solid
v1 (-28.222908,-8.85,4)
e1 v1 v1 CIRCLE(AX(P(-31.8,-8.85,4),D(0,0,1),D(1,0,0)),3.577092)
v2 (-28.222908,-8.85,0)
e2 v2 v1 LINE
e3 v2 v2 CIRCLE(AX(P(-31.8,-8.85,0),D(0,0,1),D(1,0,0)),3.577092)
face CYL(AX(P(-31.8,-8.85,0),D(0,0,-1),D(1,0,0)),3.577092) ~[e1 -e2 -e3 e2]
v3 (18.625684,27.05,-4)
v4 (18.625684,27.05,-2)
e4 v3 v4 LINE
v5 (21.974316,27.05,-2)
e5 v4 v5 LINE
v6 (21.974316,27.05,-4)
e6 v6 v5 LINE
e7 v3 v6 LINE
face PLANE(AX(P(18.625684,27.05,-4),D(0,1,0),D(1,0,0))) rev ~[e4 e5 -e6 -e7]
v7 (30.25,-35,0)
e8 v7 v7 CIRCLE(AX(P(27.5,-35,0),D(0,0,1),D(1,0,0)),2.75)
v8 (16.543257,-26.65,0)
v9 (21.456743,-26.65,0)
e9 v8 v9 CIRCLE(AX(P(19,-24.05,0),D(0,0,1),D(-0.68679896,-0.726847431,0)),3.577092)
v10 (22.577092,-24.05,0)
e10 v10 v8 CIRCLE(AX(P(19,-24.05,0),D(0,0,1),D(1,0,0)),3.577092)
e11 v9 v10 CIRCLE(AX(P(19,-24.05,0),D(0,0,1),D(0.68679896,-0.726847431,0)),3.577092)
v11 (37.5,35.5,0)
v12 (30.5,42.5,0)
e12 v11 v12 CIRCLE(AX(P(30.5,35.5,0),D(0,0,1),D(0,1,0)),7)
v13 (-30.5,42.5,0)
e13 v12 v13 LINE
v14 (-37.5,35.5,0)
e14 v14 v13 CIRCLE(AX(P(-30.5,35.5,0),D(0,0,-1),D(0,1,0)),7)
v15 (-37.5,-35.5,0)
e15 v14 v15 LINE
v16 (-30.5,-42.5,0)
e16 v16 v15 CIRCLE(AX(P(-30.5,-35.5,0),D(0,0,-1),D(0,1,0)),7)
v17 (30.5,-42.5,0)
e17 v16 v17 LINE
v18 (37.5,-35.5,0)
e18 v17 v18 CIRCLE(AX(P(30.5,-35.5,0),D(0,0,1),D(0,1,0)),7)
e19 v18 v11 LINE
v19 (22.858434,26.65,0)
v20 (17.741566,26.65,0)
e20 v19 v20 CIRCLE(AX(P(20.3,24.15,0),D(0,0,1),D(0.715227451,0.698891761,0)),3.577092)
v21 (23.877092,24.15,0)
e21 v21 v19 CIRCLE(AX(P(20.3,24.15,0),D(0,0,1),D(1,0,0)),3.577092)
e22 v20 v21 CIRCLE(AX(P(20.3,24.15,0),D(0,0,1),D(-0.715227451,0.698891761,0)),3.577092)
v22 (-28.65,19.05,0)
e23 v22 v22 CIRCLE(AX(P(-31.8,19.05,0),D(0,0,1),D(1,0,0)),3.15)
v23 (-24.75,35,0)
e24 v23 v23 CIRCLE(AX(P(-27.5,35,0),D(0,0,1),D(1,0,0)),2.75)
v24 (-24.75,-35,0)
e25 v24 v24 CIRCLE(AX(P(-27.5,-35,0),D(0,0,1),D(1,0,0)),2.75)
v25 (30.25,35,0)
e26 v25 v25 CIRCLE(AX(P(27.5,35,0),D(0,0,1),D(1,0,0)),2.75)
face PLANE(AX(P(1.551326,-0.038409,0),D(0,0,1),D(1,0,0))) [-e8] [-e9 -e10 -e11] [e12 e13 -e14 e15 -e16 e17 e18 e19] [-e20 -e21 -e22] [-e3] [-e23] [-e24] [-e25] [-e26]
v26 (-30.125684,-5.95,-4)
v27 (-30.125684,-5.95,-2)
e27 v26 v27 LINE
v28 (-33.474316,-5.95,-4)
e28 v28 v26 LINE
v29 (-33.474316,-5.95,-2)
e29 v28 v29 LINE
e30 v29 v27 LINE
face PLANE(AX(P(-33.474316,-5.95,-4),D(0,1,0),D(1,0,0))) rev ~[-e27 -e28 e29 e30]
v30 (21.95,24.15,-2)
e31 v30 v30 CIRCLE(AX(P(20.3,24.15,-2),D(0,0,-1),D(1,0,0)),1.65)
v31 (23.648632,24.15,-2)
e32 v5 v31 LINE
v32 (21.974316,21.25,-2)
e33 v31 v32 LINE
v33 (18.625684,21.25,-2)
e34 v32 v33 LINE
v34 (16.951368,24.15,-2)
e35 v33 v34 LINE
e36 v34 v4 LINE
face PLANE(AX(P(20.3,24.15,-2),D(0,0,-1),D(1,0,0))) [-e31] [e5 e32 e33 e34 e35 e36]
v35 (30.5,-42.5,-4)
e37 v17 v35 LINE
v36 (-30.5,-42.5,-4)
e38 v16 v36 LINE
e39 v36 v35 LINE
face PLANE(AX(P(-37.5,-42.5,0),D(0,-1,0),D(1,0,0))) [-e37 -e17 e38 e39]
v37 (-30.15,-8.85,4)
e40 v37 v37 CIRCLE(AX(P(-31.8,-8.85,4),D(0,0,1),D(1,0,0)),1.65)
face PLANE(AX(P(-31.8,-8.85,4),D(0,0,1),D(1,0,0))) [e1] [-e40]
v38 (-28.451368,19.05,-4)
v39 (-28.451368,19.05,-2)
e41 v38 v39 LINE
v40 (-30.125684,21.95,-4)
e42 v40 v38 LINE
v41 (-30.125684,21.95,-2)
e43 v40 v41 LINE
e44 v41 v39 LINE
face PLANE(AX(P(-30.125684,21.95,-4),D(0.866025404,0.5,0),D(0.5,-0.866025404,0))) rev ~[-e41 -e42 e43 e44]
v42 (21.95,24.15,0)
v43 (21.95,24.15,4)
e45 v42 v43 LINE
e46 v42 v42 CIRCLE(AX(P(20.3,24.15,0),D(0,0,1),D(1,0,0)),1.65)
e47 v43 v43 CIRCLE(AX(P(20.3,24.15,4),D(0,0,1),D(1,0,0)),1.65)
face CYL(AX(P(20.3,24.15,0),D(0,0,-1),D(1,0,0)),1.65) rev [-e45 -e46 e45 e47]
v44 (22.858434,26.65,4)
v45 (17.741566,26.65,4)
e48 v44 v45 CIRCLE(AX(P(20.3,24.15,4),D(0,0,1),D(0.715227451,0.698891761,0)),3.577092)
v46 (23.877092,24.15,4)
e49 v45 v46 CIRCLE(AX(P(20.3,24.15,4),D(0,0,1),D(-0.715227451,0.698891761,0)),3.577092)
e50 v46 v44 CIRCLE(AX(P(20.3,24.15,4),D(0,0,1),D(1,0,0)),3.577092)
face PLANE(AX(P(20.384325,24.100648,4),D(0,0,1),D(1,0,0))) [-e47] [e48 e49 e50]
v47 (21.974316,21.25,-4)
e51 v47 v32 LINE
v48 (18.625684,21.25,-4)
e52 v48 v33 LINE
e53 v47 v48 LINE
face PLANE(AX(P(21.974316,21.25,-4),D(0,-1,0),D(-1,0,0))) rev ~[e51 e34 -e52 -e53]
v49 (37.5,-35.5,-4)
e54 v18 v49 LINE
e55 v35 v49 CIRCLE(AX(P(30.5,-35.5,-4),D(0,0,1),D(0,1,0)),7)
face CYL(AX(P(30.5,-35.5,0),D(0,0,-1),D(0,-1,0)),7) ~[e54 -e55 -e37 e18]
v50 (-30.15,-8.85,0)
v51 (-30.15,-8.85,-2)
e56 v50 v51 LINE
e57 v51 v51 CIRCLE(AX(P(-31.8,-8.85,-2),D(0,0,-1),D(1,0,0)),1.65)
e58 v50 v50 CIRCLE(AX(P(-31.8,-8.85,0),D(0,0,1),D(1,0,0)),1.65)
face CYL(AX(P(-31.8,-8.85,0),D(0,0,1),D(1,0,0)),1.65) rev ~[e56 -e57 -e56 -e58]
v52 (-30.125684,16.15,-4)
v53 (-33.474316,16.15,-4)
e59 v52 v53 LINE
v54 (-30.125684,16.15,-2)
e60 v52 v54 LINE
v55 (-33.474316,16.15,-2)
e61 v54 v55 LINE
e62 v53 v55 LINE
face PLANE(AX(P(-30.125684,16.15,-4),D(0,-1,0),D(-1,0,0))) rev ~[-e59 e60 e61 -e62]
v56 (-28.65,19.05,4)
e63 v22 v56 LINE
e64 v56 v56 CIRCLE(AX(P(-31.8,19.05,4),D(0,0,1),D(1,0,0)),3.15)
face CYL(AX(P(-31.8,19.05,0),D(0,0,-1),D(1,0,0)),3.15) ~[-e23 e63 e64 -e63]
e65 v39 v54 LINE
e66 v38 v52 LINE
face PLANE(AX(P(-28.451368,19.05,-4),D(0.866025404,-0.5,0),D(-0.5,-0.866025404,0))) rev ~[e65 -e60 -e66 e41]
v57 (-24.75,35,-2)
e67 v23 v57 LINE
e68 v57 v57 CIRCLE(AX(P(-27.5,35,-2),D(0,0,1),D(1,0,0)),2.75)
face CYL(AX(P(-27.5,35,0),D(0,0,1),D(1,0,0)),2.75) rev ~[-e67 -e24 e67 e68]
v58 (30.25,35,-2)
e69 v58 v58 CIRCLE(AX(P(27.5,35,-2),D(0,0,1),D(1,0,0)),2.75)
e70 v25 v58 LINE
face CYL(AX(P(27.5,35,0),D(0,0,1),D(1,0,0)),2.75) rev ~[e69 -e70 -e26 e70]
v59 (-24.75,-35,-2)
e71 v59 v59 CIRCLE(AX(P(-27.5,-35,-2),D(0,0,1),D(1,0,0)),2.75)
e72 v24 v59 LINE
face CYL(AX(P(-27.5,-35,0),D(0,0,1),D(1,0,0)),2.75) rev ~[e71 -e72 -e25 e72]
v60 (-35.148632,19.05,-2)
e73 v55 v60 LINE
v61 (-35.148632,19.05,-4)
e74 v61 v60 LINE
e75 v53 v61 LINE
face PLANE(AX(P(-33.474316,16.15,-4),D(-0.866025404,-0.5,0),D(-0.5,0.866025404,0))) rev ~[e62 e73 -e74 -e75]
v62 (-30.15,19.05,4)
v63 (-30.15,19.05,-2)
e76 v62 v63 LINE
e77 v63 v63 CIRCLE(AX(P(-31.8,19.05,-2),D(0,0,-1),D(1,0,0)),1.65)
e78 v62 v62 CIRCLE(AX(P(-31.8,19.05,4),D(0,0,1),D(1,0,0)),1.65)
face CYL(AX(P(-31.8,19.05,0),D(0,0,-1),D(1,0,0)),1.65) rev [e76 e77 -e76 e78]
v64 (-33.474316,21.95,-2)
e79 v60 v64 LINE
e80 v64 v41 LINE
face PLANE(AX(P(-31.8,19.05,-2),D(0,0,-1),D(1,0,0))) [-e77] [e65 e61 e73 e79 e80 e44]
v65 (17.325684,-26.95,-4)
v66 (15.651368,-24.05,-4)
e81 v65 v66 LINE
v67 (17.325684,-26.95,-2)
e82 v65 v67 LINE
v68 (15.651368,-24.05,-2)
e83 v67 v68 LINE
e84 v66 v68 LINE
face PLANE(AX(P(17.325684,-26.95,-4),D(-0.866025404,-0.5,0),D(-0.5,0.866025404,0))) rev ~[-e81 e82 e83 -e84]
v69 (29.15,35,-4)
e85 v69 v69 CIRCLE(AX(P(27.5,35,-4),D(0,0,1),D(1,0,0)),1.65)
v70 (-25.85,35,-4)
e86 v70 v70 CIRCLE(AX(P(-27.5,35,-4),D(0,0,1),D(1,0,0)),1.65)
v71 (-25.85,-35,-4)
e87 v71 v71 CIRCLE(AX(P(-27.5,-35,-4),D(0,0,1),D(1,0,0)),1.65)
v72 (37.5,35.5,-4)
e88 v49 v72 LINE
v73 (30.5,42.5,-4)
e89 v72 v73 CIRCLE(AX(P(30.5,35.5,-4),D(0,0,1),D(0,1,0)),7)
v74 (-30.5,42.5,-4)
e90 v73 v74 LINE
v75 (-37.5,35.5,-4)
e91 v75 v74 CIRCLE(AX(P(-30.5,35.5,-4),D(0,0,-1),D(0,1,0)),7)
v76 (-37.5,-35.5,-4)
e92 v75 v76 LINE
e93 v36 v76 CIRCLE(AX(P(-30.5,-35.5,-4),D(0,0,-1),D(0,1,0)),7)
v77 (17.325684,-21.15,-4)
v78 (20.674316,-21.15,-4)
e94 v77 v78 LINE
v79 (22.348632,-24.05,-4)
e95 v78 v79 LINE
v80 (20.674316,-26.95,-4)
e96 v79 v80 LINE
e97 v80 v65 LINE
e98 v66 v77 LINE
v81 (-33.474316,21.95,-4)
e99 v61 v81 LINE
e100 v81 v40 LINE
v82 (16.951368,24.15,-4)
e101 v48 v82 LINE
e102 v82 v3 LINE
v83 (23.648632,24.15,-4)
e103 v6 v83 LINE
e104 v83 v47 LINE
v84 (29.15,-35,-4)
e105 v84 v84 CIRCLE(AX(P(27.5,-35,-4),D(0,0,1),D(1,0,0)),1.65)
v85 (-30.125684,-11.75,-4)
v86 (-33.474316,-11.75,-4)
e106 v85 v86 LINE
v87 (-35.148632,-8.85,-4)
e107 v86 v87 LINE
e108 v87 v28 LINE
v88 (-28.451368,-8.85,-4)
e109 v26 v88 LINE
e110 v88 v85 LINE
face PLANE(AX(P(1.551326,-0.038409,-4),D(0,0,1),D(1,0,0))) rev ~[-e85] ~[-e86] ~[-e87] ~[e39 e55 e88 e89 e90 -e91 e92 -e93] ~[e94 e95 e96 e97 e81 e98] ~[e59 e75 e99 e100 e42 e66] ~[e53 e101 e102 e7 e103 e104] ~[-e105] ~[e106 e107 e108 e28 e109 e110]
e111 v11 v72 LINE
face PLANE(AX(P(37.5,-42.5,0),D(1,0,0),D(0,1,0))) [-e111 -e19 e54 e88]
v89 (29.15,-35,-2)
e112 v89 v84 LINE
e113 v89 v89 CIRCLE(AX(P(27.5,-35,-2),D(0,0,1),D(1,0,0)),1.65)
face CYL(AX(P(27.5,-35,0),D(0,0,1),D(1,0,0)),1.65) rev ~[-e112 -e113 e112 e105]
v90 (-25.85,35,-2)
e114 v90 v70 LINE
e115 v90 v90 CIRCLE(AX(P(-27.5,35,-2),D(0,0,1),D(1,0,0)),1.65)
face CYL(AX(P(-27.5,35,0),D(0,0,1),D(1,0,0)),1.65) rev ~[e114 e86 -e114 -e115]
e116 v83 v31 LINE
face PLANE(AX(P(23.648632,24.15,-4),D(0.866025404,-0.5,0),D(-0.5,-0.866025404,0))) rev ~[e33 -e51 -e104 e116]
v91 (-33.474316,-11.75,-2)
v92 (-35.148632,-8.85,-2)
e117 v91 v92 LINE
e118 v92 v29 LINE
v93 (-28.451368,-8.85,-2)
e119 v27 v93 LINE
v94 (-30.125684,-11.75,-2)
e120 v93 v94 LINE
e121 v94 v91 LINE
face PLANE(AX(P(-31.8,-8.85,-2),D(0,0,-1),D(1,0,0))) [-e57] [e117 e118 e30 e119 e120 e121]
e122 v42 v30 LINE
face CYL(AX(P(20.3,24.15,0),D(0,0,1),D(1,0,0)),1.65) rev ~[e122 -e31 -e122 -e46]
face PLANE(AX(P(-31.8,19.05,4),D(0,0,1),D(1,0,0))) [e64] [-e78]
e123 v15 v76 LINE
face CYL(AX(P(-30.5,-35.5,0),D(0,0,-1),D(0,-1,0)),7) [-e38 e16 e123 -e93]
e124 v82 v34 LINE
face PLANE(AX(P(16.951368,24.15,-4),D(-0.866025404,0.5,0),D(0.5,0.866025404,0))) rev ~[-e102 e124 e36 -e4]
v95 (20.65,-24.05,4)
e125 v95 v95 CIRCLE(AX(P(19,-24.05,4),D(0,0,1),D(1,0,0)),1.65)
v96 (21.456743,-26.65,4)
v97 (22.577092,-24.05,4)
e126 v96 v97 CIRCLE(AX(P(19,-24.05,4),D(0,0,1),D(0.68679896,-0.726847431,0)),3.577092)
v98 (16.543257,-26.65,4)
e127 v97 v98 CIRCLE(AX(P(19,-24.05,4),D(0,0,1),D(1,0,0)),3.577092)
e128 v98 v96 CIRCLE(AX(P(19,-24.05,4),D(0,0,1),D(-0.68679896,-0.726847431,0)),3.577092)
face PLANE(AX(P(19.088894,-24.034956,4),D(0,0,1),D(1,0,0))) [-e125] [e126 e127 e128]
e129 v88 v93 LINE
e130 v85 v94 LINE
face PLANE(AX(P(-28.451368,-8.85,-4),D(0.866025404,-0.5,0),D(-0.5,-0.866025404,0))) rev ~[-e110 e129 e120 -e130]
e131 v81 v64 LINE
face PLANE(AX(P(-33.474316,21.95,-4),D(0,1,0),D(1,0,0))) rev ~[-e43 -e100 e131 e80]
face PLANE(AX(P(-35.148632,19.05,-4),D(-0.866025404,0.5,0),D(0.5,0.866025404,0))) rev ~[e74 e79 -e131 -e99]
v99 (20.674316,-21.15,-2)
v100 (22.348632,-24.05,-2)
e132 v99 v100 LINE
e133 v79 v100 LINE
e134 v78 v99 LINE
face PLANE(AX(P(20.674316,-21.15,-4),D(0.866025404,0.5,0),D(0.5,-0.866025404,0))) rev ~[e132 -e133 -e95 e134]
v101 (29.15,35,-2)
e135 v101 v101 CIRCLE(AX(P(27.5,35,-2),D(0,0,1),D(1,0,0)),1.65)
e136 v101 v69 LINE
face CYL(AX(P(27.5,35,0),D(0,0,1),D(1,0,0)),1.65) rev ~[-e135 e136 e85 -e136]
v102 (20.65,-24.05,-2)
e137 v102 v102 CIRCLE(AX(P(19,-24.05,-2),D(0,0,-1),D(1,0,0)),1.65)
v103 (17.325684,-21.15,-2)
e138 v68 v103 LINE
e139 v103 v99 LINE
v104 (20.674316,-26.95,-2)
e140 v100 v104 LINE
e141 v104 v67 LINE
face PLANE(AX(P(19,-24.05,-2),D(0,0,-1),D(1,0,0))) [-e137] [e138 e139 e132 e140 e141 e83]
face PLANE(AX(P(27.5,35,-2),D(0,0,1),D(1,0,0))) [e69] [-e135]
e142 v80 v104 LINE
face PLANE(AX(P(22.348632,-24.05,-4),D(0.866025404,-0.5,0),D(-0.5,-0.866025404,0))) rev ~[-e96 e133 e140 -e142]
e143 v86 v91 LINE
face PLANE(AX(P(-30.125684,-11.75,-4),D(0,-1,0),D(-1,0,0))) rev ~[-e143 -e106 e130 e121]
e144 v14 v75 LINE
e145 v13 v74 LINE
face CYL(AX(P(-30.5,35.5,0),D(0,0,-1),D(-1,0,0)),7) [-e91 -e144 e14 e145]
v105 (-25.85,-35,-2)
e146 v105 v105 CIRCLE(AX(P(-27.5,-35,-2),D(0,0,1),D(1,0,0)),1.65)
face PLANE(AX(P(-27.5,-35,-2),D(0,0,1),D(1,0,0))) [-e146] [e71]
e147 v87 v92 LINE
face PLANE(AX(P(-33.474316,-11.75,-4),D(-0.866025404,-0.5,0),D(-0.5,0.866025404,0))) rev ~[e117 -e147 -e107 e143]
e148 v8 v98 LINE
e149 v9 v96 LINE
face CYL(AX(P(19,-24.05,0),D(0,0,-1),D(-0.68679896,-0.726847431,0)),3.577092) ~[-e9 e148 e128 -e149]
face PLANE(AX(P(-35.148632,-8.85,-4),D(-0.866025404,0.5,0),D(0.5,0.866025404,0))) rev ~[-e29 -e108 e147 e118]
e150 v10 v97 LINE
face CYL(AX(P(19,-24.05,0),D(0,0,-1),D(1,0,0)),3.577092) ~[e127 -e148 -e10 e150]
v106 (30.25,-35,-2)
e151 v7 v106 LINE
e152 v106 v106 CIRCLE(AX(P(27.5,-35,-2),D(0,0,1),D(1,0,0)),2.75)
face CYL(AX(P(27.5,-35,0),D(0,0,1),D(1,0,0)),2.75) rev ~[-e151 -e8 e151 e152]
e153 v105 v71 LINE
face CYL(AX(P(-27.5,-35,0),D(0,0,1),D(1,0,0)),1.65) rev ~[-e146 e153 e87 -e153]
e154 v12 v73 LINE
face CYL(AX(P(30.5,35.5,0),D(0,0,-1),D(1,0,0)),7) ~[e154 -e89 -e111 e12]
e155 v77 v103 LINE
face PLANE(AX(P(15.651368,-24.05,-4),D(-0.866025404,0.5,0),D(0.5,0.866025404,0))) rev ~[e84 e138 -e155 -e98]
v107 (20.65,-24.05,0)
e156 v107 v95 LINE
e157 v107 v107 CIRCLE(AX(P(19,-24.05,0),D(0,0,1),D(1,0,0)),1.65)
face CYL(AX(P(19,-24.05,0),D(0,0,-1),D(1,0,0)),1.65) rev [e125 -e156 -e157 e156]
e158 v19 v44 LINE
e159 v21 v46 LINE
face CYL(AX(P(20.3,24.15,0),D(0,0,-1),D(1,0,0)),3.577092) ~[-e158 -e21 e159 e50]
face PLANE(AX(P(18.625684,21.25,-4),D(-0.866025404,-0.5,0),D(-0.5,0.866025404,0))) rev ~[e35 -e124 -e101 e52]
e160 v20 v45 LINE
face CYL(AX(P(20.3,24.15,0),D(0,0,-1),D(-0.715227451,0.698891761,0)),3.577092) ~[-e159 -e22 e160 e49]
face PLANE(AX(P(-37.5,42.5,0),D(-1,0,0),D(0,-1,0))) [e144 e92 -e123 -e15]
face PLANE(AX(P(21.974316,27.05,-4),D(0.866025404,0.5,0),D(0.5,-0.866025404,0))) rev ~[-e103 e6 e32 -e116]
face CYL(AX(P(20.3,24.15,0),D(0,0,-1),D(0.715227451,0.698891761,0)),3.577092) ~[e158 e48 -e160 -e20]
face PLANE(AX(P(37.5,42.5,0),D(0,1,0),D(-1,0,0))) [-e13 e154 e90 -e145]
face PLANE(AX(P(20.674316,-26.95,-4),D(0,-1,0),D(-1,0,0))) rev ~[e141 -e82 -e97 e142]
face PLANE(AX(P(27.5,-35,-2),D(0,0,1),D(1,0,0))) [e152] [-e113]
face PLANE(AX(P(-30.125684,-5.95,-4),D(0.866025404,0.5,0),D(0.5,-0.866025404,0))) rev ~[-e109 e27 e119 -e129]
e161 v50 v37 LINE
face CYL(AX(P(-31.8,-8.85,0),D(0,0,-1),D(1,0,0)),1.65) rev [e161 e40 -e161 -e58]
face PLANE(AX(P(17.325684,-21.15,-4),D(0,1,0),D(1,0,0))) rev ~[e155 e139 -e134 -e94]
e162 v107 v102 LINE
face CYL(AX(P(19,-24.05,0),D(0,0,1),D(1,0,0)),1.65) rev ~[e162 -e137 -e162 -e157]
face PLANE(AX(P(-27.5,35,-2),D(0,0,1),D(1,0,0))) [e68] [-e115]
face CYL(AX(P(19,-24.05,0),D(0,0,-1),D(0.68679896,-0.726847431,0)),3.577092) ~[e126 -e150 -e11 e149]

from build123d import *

# Parameters (mm, degrees)
F0_R     = 3.5770918181
F0_R_2   = 3.15
F0_R_3   = 2.75
F0_R_4   = 1.65
F1_DEPTH = 4
F2_DEPTH = 4
F3_DEPTH = 2
F4_R     = 1.65
F5_DEPTH = 2
F6_R     = 7


with BuildPart() as f1:
    # F0 (on Top) → F1 (new body)
    with BuildSketch(Plane.XY):
        with BuildLine():
            Line((17.7415657376, 26.65), (-37.5, 26.65))
            Line((-37.5, 26.65), (-37.5, -26.65))
            Line((-37.5, -26.65), (-34.3, -26.65))
            Line((-34.3, -26.65), (16.5432570596, -26.65))
            ThreePointArc((16.5432570596, -26.65), (17.5844451964, -20.7649139321), (22.5770918181, -24.05))
            ThreePointArc((22.5770918181, -24.05), (22.2850860679, -25.4655548036), (21.4567429404, -26.65))
            Line((21.4567429404, -26.65), (34.3, -26.65))
            Line((34.3, -26.65), (37.5, -26.65))
            Line((37.5, -26.65), (37.5, 26.65))
            Line((37.5, 26.65), (22.8584342624, 26.65))
            ThreePointArc((22.8584342624, 26.65), (23.6126530261, 25.4997836137), (23.8770918181, 24.15))
            ThreePointArc((23.8770918181, 24.15), (18.9502163863, 20.8373469739), (17.7415657376, 26.65))
        make_face()
        with Locations((-31.8, -8.85)):
            Circle(F0_R, mode=Mode.SUBTRACT)
        with Locations((-31.8, 19.05)):
            Circle(F0_R_2, mode=Mode.SUBTRACT)
        with BuildLine():
            Line((-34.3, -26.65), (-37.5, -26.65))
            Line((-37.5, -26.65), (-37.5, -42.5))
            Line((-37.5, -42.5), (37.5, -42.5))
            Line((37.5, -42.5), (37.5, -26.65))
            Line((37.5, -26.65), (34.3, -26.65))
            Line((34.3, -26.65), (21.4567429404, -26.65))
            ThreePointArc((21.4567429404, -26.65), (19, -27.6270918181), (16.5432570596, -26.65))
            Line((16.5432570596, -26.65), (-34.3, -26.65))
        make_face()
        with Locations((-27.5, -35)):
            Circle(F0_R_3, mode=Mode.SUBTRACT)
        with Locations((27.5, -35)):
            Circle(F0_R_3, mode=Mode.SUBTRACT)
        with BuildLine():
            Line((37.5, 42.5), (-37.5, 42.5))
            Line((-37.5, 42.5), (-37.5, 26.65))
            Line((-37.5, 26.65), (17.7415657376, 26.65))
            ThreePointArc((17.7415657376, 26.65), (20.3, 27.7270918181), (22.8584342624, 26.65))
            Line((22.8584342624, 26.65), (37.5, 26.65))
            Line((37.5, 26.65), (37.5, 42.5))
        make_face()
        with Locations((-27.5, 35)):
            Circle(F0_R_3, mode=Mode.SUBTRACT)
        with Locations((27.5, 35)):
            Circle(F0_R_3, mode=Mode.SUBTRACT)
        with Locations((-31.8, -8.85)):
            Circle(F0_R)
        with Locations((-31.8, -8.85)):
            Circle(F0_R_4, mode=Mode.SUBTRACT)
        with BuildLine():
            ThreePointArc((22.5770918181, -24.05), (17.5844451964, -20.7649139321), (16.5432570596, -26.65))
            Line((16.5432570596, -26.65), (21.4567429404, -26.65))
            ThreePointArc((21.4567429404, -26.65), (22.2850860679, -25.4655548036), (22.5770918181, -24.05))
        make_face()
        with Locations((19, -24.05)):
            Circle(F0_R_4, mode=Mode.SUBTRACT)
        with BuildLine():
            Line((22.8584342624, 26.65), (17.7415657376, 26.65))
            ThreePointArc((17.7415657376, 26.65), (18.9502163863, 20.8373469739), (23.8770918181, 24.15))
            ThreePointArc((23.8770918181, 24.15), (23.6126530261, 25.4997836137), (22.8584342624, 26.65))
        make_face()
        with Locations((20.3, 24.15)):
            Circle(F0_R_4, mode=Mode.SUBTRACT)
        with Locations((-31.8, 19.05)):
            Circle(F0_R_2)
        with Locations((-31.8, 19.05)):
            Circle(F0_R_4, mode=Mode.SUBTRACT)
        with Locations((-27.5, 35)):
            Circle(F0_R_3)
        with Locations((-27.5, 35)):
            Circle(F0_R_4, mode=Mode.SUBTRACT)
        with Locations((27.5, 35)):
            Circle(F0_R_3)
        with Locations((27.5, 35)):
            Circle(F0_R_4, mode=Mode.SUBTRACT)
        with Locations((-27.5, -35)):
            Circle(F0_R_3)
        with Locations((-27.5, -35)):
            Circle(F0_R_4, mode=Mode.SUBTRACT)
        with Locations((27.5, -35)):
            Circle(F0_R_3)
        with Locations((27.5, -35)):
            Circle(F0_R_4, mode=Mode.SUBTRACT)
        with BuildLine():
            ThreePointArc((22.8584342624, 26.65), (20.3, 27.7270918181), (17.7415657376, 26.65))
            Line((17.7415657376, 26.65), (22.8584342624, 26.65))
        make_face()
        with BuildLine():
            Line((21.4567429404, -26.65), (16.5432570596, -26.65))
            ThreePointArc((16.5432570596, -26.65), (19, -27.6270918181), (21.4567429404, -26.65))
        make_face()
    extrude(amount=-F1_DEPTH)

    # F0 (on Top) → F2 (join)
    with BuildSketch(Plane.XY):
        with Locations((-31.8, 19.05)):
            Circle(F0_R_2)
        with Locations((-31.8, 19.05)):
            Circle(F0_R_4, mode=Mode.SUBTRACT)
        with Locations((-31.8, -8.85)):
            Circle(F0_R)
        with Locations((-31.8, -8.85)):
            Circle(F0_R_4, mode=Mode.SUBTRACT)
        with BuildLine():
            Line((22.8584342624, 26.65), (17.7415657376, 26.65))
            ThreePointArc((17.7415657376, 26.65), (18.9502163863, 20.8373469739), (23.8770918181, 24.15))
            ThreePointArc((23.8770918181, 24.15), (23.6126530261, 25.4997836137), (22.8584342624, 26.65))
        make_face()
        with Locations((20.3, 24.15)):
            Circle(F0_R_4, mode=Mode.SUBTRACT)
        with BuildLine():
            ThreePointArc((22.8584342624, 26.65), (20.3, 27.7270918181), (17.7415657376, 26.65))
            Line((17.7415657376, 26.65), (22.8584342624, 26.65))
        make_face()
        with BuildLine():
            ThreePointArc((22.5770918181, -24.05), (17.5844451964, -20.7649139321), (16.5432570596, -26.65))
            Line((16.5432570596, -26.65), (21.4567429404, -26.65))
            ThreePointArc((21.4567429404, -26.65), (22.2850860679, -25.4655548036), (22.5770918181, -24.05))
        make_face()
        with Locations((19, -24.05)):
            Circle(F0_R_4, mode=Mode.SUBTRACT)
        with BuildLine():
            Line((21.4567429404, -26.65), (16.5432570596, -26.65))
            ThreePointArc((16.5432570596, -26.65), (19, -27.6270918181), (21.4567429404, -26.65))
        make_face()
    extrude(amount=F2_DEPTH)

    # F0 (on Top) → F3 (cut)
    with BuildSketch(Plane.XY):
        with Locations((-27.5, 35)):
            Circle(F0_R_3)
        with Locations((-27.5, 35)):
            Circle(F0_R_4, mode=Mode.SUBTRACT)
        with Locations((27.5, 35)):
            Circle(F0_R_3)
        with Locations((27.5, 35)):
            Circle(F0_R_4, mode=Mode.SUBTRACT)
        with Locations((-27.5, -35)):
            Circle(F0_R_3)
        with Locations((-27.5, -35)):
            Circle(F0_R_4, mode=Mode.SUBTRACT)
        with Locations((27.5, -35)):
            Circle(F0_R_3)
        with Locations((27.5, -35)):
            Circle(F0_R_4, mode=Mode.SUBTRACT)
    extrude(amount=-F3_DEPTH, mode=Mode.SUBTRACT)

    # F4 (on face) → F5 (cut)
    with BuildSketch(Plane(origin=(0, 0, -4), x_dir=(1, 0, 0), z_dir=(0, 0, -1))):
        Polygon((18.6256842194, -27.05), (21.9743157806, -27.05), (23.6486315613, -24.15), (21.9743157806, -21.25), (18.6256842194, -21.25), (16.9513684387, -24.15), align=None)
        with Locations((20.3, -24.15)):
            Circle(F4_R, mode=Mode.SUBTRACT)
        Polygon((-33.4743157806, -21.95), (-30.1256842194, -21.95), (-28.4513684387, -19.05), (-30.1256842194, -16.15), (-33.4743157806, -16.15), (-35.1486315613, -19.05), align=None)
        with Locations((-31.8, -19.05)):
            Circle(F4_R, mode=Mode.SUBTRACT)
        Polygon((17.3256842194, 21.15), (20.6743157806, 21.15), (22.3486315613, 24.05), (20.6743157806, 26.95), (17.3256842194, 26.95), (15.6513684387, 24.05), align=None)
        with Locations((19, 24.05)):
            Circle(F4_R, mode=Mode.SUBTRACT)
        Polygon((-33.4743157806, 5.95), (-30.1256842194, 5.95), (-28.4513684387, 8.85), (-30.1256842194, 11.75), (-33.4743157806, 11.75), (-35.1486315613, 8.85), align=None)
        with Locations((-31.8, 8.85)):
            Circle(F4_R, mode=Mode.SUBTRACT)
    extrude(amount=-F5_DEPTH, mode=Mode.SUBTRACT)

    # F6
    f6_edges = [f1.edges().sort_by_distance(p)[0] for p in [
        (-37.5, 42.5, -2),
        (-37.5, -42.5, -2),
        (37.5, -42.5, -2),
        (37.5, 42.5, -2),
    ]]
    fillet(f6_edges, radius=F6_R)


solid = f1.part
